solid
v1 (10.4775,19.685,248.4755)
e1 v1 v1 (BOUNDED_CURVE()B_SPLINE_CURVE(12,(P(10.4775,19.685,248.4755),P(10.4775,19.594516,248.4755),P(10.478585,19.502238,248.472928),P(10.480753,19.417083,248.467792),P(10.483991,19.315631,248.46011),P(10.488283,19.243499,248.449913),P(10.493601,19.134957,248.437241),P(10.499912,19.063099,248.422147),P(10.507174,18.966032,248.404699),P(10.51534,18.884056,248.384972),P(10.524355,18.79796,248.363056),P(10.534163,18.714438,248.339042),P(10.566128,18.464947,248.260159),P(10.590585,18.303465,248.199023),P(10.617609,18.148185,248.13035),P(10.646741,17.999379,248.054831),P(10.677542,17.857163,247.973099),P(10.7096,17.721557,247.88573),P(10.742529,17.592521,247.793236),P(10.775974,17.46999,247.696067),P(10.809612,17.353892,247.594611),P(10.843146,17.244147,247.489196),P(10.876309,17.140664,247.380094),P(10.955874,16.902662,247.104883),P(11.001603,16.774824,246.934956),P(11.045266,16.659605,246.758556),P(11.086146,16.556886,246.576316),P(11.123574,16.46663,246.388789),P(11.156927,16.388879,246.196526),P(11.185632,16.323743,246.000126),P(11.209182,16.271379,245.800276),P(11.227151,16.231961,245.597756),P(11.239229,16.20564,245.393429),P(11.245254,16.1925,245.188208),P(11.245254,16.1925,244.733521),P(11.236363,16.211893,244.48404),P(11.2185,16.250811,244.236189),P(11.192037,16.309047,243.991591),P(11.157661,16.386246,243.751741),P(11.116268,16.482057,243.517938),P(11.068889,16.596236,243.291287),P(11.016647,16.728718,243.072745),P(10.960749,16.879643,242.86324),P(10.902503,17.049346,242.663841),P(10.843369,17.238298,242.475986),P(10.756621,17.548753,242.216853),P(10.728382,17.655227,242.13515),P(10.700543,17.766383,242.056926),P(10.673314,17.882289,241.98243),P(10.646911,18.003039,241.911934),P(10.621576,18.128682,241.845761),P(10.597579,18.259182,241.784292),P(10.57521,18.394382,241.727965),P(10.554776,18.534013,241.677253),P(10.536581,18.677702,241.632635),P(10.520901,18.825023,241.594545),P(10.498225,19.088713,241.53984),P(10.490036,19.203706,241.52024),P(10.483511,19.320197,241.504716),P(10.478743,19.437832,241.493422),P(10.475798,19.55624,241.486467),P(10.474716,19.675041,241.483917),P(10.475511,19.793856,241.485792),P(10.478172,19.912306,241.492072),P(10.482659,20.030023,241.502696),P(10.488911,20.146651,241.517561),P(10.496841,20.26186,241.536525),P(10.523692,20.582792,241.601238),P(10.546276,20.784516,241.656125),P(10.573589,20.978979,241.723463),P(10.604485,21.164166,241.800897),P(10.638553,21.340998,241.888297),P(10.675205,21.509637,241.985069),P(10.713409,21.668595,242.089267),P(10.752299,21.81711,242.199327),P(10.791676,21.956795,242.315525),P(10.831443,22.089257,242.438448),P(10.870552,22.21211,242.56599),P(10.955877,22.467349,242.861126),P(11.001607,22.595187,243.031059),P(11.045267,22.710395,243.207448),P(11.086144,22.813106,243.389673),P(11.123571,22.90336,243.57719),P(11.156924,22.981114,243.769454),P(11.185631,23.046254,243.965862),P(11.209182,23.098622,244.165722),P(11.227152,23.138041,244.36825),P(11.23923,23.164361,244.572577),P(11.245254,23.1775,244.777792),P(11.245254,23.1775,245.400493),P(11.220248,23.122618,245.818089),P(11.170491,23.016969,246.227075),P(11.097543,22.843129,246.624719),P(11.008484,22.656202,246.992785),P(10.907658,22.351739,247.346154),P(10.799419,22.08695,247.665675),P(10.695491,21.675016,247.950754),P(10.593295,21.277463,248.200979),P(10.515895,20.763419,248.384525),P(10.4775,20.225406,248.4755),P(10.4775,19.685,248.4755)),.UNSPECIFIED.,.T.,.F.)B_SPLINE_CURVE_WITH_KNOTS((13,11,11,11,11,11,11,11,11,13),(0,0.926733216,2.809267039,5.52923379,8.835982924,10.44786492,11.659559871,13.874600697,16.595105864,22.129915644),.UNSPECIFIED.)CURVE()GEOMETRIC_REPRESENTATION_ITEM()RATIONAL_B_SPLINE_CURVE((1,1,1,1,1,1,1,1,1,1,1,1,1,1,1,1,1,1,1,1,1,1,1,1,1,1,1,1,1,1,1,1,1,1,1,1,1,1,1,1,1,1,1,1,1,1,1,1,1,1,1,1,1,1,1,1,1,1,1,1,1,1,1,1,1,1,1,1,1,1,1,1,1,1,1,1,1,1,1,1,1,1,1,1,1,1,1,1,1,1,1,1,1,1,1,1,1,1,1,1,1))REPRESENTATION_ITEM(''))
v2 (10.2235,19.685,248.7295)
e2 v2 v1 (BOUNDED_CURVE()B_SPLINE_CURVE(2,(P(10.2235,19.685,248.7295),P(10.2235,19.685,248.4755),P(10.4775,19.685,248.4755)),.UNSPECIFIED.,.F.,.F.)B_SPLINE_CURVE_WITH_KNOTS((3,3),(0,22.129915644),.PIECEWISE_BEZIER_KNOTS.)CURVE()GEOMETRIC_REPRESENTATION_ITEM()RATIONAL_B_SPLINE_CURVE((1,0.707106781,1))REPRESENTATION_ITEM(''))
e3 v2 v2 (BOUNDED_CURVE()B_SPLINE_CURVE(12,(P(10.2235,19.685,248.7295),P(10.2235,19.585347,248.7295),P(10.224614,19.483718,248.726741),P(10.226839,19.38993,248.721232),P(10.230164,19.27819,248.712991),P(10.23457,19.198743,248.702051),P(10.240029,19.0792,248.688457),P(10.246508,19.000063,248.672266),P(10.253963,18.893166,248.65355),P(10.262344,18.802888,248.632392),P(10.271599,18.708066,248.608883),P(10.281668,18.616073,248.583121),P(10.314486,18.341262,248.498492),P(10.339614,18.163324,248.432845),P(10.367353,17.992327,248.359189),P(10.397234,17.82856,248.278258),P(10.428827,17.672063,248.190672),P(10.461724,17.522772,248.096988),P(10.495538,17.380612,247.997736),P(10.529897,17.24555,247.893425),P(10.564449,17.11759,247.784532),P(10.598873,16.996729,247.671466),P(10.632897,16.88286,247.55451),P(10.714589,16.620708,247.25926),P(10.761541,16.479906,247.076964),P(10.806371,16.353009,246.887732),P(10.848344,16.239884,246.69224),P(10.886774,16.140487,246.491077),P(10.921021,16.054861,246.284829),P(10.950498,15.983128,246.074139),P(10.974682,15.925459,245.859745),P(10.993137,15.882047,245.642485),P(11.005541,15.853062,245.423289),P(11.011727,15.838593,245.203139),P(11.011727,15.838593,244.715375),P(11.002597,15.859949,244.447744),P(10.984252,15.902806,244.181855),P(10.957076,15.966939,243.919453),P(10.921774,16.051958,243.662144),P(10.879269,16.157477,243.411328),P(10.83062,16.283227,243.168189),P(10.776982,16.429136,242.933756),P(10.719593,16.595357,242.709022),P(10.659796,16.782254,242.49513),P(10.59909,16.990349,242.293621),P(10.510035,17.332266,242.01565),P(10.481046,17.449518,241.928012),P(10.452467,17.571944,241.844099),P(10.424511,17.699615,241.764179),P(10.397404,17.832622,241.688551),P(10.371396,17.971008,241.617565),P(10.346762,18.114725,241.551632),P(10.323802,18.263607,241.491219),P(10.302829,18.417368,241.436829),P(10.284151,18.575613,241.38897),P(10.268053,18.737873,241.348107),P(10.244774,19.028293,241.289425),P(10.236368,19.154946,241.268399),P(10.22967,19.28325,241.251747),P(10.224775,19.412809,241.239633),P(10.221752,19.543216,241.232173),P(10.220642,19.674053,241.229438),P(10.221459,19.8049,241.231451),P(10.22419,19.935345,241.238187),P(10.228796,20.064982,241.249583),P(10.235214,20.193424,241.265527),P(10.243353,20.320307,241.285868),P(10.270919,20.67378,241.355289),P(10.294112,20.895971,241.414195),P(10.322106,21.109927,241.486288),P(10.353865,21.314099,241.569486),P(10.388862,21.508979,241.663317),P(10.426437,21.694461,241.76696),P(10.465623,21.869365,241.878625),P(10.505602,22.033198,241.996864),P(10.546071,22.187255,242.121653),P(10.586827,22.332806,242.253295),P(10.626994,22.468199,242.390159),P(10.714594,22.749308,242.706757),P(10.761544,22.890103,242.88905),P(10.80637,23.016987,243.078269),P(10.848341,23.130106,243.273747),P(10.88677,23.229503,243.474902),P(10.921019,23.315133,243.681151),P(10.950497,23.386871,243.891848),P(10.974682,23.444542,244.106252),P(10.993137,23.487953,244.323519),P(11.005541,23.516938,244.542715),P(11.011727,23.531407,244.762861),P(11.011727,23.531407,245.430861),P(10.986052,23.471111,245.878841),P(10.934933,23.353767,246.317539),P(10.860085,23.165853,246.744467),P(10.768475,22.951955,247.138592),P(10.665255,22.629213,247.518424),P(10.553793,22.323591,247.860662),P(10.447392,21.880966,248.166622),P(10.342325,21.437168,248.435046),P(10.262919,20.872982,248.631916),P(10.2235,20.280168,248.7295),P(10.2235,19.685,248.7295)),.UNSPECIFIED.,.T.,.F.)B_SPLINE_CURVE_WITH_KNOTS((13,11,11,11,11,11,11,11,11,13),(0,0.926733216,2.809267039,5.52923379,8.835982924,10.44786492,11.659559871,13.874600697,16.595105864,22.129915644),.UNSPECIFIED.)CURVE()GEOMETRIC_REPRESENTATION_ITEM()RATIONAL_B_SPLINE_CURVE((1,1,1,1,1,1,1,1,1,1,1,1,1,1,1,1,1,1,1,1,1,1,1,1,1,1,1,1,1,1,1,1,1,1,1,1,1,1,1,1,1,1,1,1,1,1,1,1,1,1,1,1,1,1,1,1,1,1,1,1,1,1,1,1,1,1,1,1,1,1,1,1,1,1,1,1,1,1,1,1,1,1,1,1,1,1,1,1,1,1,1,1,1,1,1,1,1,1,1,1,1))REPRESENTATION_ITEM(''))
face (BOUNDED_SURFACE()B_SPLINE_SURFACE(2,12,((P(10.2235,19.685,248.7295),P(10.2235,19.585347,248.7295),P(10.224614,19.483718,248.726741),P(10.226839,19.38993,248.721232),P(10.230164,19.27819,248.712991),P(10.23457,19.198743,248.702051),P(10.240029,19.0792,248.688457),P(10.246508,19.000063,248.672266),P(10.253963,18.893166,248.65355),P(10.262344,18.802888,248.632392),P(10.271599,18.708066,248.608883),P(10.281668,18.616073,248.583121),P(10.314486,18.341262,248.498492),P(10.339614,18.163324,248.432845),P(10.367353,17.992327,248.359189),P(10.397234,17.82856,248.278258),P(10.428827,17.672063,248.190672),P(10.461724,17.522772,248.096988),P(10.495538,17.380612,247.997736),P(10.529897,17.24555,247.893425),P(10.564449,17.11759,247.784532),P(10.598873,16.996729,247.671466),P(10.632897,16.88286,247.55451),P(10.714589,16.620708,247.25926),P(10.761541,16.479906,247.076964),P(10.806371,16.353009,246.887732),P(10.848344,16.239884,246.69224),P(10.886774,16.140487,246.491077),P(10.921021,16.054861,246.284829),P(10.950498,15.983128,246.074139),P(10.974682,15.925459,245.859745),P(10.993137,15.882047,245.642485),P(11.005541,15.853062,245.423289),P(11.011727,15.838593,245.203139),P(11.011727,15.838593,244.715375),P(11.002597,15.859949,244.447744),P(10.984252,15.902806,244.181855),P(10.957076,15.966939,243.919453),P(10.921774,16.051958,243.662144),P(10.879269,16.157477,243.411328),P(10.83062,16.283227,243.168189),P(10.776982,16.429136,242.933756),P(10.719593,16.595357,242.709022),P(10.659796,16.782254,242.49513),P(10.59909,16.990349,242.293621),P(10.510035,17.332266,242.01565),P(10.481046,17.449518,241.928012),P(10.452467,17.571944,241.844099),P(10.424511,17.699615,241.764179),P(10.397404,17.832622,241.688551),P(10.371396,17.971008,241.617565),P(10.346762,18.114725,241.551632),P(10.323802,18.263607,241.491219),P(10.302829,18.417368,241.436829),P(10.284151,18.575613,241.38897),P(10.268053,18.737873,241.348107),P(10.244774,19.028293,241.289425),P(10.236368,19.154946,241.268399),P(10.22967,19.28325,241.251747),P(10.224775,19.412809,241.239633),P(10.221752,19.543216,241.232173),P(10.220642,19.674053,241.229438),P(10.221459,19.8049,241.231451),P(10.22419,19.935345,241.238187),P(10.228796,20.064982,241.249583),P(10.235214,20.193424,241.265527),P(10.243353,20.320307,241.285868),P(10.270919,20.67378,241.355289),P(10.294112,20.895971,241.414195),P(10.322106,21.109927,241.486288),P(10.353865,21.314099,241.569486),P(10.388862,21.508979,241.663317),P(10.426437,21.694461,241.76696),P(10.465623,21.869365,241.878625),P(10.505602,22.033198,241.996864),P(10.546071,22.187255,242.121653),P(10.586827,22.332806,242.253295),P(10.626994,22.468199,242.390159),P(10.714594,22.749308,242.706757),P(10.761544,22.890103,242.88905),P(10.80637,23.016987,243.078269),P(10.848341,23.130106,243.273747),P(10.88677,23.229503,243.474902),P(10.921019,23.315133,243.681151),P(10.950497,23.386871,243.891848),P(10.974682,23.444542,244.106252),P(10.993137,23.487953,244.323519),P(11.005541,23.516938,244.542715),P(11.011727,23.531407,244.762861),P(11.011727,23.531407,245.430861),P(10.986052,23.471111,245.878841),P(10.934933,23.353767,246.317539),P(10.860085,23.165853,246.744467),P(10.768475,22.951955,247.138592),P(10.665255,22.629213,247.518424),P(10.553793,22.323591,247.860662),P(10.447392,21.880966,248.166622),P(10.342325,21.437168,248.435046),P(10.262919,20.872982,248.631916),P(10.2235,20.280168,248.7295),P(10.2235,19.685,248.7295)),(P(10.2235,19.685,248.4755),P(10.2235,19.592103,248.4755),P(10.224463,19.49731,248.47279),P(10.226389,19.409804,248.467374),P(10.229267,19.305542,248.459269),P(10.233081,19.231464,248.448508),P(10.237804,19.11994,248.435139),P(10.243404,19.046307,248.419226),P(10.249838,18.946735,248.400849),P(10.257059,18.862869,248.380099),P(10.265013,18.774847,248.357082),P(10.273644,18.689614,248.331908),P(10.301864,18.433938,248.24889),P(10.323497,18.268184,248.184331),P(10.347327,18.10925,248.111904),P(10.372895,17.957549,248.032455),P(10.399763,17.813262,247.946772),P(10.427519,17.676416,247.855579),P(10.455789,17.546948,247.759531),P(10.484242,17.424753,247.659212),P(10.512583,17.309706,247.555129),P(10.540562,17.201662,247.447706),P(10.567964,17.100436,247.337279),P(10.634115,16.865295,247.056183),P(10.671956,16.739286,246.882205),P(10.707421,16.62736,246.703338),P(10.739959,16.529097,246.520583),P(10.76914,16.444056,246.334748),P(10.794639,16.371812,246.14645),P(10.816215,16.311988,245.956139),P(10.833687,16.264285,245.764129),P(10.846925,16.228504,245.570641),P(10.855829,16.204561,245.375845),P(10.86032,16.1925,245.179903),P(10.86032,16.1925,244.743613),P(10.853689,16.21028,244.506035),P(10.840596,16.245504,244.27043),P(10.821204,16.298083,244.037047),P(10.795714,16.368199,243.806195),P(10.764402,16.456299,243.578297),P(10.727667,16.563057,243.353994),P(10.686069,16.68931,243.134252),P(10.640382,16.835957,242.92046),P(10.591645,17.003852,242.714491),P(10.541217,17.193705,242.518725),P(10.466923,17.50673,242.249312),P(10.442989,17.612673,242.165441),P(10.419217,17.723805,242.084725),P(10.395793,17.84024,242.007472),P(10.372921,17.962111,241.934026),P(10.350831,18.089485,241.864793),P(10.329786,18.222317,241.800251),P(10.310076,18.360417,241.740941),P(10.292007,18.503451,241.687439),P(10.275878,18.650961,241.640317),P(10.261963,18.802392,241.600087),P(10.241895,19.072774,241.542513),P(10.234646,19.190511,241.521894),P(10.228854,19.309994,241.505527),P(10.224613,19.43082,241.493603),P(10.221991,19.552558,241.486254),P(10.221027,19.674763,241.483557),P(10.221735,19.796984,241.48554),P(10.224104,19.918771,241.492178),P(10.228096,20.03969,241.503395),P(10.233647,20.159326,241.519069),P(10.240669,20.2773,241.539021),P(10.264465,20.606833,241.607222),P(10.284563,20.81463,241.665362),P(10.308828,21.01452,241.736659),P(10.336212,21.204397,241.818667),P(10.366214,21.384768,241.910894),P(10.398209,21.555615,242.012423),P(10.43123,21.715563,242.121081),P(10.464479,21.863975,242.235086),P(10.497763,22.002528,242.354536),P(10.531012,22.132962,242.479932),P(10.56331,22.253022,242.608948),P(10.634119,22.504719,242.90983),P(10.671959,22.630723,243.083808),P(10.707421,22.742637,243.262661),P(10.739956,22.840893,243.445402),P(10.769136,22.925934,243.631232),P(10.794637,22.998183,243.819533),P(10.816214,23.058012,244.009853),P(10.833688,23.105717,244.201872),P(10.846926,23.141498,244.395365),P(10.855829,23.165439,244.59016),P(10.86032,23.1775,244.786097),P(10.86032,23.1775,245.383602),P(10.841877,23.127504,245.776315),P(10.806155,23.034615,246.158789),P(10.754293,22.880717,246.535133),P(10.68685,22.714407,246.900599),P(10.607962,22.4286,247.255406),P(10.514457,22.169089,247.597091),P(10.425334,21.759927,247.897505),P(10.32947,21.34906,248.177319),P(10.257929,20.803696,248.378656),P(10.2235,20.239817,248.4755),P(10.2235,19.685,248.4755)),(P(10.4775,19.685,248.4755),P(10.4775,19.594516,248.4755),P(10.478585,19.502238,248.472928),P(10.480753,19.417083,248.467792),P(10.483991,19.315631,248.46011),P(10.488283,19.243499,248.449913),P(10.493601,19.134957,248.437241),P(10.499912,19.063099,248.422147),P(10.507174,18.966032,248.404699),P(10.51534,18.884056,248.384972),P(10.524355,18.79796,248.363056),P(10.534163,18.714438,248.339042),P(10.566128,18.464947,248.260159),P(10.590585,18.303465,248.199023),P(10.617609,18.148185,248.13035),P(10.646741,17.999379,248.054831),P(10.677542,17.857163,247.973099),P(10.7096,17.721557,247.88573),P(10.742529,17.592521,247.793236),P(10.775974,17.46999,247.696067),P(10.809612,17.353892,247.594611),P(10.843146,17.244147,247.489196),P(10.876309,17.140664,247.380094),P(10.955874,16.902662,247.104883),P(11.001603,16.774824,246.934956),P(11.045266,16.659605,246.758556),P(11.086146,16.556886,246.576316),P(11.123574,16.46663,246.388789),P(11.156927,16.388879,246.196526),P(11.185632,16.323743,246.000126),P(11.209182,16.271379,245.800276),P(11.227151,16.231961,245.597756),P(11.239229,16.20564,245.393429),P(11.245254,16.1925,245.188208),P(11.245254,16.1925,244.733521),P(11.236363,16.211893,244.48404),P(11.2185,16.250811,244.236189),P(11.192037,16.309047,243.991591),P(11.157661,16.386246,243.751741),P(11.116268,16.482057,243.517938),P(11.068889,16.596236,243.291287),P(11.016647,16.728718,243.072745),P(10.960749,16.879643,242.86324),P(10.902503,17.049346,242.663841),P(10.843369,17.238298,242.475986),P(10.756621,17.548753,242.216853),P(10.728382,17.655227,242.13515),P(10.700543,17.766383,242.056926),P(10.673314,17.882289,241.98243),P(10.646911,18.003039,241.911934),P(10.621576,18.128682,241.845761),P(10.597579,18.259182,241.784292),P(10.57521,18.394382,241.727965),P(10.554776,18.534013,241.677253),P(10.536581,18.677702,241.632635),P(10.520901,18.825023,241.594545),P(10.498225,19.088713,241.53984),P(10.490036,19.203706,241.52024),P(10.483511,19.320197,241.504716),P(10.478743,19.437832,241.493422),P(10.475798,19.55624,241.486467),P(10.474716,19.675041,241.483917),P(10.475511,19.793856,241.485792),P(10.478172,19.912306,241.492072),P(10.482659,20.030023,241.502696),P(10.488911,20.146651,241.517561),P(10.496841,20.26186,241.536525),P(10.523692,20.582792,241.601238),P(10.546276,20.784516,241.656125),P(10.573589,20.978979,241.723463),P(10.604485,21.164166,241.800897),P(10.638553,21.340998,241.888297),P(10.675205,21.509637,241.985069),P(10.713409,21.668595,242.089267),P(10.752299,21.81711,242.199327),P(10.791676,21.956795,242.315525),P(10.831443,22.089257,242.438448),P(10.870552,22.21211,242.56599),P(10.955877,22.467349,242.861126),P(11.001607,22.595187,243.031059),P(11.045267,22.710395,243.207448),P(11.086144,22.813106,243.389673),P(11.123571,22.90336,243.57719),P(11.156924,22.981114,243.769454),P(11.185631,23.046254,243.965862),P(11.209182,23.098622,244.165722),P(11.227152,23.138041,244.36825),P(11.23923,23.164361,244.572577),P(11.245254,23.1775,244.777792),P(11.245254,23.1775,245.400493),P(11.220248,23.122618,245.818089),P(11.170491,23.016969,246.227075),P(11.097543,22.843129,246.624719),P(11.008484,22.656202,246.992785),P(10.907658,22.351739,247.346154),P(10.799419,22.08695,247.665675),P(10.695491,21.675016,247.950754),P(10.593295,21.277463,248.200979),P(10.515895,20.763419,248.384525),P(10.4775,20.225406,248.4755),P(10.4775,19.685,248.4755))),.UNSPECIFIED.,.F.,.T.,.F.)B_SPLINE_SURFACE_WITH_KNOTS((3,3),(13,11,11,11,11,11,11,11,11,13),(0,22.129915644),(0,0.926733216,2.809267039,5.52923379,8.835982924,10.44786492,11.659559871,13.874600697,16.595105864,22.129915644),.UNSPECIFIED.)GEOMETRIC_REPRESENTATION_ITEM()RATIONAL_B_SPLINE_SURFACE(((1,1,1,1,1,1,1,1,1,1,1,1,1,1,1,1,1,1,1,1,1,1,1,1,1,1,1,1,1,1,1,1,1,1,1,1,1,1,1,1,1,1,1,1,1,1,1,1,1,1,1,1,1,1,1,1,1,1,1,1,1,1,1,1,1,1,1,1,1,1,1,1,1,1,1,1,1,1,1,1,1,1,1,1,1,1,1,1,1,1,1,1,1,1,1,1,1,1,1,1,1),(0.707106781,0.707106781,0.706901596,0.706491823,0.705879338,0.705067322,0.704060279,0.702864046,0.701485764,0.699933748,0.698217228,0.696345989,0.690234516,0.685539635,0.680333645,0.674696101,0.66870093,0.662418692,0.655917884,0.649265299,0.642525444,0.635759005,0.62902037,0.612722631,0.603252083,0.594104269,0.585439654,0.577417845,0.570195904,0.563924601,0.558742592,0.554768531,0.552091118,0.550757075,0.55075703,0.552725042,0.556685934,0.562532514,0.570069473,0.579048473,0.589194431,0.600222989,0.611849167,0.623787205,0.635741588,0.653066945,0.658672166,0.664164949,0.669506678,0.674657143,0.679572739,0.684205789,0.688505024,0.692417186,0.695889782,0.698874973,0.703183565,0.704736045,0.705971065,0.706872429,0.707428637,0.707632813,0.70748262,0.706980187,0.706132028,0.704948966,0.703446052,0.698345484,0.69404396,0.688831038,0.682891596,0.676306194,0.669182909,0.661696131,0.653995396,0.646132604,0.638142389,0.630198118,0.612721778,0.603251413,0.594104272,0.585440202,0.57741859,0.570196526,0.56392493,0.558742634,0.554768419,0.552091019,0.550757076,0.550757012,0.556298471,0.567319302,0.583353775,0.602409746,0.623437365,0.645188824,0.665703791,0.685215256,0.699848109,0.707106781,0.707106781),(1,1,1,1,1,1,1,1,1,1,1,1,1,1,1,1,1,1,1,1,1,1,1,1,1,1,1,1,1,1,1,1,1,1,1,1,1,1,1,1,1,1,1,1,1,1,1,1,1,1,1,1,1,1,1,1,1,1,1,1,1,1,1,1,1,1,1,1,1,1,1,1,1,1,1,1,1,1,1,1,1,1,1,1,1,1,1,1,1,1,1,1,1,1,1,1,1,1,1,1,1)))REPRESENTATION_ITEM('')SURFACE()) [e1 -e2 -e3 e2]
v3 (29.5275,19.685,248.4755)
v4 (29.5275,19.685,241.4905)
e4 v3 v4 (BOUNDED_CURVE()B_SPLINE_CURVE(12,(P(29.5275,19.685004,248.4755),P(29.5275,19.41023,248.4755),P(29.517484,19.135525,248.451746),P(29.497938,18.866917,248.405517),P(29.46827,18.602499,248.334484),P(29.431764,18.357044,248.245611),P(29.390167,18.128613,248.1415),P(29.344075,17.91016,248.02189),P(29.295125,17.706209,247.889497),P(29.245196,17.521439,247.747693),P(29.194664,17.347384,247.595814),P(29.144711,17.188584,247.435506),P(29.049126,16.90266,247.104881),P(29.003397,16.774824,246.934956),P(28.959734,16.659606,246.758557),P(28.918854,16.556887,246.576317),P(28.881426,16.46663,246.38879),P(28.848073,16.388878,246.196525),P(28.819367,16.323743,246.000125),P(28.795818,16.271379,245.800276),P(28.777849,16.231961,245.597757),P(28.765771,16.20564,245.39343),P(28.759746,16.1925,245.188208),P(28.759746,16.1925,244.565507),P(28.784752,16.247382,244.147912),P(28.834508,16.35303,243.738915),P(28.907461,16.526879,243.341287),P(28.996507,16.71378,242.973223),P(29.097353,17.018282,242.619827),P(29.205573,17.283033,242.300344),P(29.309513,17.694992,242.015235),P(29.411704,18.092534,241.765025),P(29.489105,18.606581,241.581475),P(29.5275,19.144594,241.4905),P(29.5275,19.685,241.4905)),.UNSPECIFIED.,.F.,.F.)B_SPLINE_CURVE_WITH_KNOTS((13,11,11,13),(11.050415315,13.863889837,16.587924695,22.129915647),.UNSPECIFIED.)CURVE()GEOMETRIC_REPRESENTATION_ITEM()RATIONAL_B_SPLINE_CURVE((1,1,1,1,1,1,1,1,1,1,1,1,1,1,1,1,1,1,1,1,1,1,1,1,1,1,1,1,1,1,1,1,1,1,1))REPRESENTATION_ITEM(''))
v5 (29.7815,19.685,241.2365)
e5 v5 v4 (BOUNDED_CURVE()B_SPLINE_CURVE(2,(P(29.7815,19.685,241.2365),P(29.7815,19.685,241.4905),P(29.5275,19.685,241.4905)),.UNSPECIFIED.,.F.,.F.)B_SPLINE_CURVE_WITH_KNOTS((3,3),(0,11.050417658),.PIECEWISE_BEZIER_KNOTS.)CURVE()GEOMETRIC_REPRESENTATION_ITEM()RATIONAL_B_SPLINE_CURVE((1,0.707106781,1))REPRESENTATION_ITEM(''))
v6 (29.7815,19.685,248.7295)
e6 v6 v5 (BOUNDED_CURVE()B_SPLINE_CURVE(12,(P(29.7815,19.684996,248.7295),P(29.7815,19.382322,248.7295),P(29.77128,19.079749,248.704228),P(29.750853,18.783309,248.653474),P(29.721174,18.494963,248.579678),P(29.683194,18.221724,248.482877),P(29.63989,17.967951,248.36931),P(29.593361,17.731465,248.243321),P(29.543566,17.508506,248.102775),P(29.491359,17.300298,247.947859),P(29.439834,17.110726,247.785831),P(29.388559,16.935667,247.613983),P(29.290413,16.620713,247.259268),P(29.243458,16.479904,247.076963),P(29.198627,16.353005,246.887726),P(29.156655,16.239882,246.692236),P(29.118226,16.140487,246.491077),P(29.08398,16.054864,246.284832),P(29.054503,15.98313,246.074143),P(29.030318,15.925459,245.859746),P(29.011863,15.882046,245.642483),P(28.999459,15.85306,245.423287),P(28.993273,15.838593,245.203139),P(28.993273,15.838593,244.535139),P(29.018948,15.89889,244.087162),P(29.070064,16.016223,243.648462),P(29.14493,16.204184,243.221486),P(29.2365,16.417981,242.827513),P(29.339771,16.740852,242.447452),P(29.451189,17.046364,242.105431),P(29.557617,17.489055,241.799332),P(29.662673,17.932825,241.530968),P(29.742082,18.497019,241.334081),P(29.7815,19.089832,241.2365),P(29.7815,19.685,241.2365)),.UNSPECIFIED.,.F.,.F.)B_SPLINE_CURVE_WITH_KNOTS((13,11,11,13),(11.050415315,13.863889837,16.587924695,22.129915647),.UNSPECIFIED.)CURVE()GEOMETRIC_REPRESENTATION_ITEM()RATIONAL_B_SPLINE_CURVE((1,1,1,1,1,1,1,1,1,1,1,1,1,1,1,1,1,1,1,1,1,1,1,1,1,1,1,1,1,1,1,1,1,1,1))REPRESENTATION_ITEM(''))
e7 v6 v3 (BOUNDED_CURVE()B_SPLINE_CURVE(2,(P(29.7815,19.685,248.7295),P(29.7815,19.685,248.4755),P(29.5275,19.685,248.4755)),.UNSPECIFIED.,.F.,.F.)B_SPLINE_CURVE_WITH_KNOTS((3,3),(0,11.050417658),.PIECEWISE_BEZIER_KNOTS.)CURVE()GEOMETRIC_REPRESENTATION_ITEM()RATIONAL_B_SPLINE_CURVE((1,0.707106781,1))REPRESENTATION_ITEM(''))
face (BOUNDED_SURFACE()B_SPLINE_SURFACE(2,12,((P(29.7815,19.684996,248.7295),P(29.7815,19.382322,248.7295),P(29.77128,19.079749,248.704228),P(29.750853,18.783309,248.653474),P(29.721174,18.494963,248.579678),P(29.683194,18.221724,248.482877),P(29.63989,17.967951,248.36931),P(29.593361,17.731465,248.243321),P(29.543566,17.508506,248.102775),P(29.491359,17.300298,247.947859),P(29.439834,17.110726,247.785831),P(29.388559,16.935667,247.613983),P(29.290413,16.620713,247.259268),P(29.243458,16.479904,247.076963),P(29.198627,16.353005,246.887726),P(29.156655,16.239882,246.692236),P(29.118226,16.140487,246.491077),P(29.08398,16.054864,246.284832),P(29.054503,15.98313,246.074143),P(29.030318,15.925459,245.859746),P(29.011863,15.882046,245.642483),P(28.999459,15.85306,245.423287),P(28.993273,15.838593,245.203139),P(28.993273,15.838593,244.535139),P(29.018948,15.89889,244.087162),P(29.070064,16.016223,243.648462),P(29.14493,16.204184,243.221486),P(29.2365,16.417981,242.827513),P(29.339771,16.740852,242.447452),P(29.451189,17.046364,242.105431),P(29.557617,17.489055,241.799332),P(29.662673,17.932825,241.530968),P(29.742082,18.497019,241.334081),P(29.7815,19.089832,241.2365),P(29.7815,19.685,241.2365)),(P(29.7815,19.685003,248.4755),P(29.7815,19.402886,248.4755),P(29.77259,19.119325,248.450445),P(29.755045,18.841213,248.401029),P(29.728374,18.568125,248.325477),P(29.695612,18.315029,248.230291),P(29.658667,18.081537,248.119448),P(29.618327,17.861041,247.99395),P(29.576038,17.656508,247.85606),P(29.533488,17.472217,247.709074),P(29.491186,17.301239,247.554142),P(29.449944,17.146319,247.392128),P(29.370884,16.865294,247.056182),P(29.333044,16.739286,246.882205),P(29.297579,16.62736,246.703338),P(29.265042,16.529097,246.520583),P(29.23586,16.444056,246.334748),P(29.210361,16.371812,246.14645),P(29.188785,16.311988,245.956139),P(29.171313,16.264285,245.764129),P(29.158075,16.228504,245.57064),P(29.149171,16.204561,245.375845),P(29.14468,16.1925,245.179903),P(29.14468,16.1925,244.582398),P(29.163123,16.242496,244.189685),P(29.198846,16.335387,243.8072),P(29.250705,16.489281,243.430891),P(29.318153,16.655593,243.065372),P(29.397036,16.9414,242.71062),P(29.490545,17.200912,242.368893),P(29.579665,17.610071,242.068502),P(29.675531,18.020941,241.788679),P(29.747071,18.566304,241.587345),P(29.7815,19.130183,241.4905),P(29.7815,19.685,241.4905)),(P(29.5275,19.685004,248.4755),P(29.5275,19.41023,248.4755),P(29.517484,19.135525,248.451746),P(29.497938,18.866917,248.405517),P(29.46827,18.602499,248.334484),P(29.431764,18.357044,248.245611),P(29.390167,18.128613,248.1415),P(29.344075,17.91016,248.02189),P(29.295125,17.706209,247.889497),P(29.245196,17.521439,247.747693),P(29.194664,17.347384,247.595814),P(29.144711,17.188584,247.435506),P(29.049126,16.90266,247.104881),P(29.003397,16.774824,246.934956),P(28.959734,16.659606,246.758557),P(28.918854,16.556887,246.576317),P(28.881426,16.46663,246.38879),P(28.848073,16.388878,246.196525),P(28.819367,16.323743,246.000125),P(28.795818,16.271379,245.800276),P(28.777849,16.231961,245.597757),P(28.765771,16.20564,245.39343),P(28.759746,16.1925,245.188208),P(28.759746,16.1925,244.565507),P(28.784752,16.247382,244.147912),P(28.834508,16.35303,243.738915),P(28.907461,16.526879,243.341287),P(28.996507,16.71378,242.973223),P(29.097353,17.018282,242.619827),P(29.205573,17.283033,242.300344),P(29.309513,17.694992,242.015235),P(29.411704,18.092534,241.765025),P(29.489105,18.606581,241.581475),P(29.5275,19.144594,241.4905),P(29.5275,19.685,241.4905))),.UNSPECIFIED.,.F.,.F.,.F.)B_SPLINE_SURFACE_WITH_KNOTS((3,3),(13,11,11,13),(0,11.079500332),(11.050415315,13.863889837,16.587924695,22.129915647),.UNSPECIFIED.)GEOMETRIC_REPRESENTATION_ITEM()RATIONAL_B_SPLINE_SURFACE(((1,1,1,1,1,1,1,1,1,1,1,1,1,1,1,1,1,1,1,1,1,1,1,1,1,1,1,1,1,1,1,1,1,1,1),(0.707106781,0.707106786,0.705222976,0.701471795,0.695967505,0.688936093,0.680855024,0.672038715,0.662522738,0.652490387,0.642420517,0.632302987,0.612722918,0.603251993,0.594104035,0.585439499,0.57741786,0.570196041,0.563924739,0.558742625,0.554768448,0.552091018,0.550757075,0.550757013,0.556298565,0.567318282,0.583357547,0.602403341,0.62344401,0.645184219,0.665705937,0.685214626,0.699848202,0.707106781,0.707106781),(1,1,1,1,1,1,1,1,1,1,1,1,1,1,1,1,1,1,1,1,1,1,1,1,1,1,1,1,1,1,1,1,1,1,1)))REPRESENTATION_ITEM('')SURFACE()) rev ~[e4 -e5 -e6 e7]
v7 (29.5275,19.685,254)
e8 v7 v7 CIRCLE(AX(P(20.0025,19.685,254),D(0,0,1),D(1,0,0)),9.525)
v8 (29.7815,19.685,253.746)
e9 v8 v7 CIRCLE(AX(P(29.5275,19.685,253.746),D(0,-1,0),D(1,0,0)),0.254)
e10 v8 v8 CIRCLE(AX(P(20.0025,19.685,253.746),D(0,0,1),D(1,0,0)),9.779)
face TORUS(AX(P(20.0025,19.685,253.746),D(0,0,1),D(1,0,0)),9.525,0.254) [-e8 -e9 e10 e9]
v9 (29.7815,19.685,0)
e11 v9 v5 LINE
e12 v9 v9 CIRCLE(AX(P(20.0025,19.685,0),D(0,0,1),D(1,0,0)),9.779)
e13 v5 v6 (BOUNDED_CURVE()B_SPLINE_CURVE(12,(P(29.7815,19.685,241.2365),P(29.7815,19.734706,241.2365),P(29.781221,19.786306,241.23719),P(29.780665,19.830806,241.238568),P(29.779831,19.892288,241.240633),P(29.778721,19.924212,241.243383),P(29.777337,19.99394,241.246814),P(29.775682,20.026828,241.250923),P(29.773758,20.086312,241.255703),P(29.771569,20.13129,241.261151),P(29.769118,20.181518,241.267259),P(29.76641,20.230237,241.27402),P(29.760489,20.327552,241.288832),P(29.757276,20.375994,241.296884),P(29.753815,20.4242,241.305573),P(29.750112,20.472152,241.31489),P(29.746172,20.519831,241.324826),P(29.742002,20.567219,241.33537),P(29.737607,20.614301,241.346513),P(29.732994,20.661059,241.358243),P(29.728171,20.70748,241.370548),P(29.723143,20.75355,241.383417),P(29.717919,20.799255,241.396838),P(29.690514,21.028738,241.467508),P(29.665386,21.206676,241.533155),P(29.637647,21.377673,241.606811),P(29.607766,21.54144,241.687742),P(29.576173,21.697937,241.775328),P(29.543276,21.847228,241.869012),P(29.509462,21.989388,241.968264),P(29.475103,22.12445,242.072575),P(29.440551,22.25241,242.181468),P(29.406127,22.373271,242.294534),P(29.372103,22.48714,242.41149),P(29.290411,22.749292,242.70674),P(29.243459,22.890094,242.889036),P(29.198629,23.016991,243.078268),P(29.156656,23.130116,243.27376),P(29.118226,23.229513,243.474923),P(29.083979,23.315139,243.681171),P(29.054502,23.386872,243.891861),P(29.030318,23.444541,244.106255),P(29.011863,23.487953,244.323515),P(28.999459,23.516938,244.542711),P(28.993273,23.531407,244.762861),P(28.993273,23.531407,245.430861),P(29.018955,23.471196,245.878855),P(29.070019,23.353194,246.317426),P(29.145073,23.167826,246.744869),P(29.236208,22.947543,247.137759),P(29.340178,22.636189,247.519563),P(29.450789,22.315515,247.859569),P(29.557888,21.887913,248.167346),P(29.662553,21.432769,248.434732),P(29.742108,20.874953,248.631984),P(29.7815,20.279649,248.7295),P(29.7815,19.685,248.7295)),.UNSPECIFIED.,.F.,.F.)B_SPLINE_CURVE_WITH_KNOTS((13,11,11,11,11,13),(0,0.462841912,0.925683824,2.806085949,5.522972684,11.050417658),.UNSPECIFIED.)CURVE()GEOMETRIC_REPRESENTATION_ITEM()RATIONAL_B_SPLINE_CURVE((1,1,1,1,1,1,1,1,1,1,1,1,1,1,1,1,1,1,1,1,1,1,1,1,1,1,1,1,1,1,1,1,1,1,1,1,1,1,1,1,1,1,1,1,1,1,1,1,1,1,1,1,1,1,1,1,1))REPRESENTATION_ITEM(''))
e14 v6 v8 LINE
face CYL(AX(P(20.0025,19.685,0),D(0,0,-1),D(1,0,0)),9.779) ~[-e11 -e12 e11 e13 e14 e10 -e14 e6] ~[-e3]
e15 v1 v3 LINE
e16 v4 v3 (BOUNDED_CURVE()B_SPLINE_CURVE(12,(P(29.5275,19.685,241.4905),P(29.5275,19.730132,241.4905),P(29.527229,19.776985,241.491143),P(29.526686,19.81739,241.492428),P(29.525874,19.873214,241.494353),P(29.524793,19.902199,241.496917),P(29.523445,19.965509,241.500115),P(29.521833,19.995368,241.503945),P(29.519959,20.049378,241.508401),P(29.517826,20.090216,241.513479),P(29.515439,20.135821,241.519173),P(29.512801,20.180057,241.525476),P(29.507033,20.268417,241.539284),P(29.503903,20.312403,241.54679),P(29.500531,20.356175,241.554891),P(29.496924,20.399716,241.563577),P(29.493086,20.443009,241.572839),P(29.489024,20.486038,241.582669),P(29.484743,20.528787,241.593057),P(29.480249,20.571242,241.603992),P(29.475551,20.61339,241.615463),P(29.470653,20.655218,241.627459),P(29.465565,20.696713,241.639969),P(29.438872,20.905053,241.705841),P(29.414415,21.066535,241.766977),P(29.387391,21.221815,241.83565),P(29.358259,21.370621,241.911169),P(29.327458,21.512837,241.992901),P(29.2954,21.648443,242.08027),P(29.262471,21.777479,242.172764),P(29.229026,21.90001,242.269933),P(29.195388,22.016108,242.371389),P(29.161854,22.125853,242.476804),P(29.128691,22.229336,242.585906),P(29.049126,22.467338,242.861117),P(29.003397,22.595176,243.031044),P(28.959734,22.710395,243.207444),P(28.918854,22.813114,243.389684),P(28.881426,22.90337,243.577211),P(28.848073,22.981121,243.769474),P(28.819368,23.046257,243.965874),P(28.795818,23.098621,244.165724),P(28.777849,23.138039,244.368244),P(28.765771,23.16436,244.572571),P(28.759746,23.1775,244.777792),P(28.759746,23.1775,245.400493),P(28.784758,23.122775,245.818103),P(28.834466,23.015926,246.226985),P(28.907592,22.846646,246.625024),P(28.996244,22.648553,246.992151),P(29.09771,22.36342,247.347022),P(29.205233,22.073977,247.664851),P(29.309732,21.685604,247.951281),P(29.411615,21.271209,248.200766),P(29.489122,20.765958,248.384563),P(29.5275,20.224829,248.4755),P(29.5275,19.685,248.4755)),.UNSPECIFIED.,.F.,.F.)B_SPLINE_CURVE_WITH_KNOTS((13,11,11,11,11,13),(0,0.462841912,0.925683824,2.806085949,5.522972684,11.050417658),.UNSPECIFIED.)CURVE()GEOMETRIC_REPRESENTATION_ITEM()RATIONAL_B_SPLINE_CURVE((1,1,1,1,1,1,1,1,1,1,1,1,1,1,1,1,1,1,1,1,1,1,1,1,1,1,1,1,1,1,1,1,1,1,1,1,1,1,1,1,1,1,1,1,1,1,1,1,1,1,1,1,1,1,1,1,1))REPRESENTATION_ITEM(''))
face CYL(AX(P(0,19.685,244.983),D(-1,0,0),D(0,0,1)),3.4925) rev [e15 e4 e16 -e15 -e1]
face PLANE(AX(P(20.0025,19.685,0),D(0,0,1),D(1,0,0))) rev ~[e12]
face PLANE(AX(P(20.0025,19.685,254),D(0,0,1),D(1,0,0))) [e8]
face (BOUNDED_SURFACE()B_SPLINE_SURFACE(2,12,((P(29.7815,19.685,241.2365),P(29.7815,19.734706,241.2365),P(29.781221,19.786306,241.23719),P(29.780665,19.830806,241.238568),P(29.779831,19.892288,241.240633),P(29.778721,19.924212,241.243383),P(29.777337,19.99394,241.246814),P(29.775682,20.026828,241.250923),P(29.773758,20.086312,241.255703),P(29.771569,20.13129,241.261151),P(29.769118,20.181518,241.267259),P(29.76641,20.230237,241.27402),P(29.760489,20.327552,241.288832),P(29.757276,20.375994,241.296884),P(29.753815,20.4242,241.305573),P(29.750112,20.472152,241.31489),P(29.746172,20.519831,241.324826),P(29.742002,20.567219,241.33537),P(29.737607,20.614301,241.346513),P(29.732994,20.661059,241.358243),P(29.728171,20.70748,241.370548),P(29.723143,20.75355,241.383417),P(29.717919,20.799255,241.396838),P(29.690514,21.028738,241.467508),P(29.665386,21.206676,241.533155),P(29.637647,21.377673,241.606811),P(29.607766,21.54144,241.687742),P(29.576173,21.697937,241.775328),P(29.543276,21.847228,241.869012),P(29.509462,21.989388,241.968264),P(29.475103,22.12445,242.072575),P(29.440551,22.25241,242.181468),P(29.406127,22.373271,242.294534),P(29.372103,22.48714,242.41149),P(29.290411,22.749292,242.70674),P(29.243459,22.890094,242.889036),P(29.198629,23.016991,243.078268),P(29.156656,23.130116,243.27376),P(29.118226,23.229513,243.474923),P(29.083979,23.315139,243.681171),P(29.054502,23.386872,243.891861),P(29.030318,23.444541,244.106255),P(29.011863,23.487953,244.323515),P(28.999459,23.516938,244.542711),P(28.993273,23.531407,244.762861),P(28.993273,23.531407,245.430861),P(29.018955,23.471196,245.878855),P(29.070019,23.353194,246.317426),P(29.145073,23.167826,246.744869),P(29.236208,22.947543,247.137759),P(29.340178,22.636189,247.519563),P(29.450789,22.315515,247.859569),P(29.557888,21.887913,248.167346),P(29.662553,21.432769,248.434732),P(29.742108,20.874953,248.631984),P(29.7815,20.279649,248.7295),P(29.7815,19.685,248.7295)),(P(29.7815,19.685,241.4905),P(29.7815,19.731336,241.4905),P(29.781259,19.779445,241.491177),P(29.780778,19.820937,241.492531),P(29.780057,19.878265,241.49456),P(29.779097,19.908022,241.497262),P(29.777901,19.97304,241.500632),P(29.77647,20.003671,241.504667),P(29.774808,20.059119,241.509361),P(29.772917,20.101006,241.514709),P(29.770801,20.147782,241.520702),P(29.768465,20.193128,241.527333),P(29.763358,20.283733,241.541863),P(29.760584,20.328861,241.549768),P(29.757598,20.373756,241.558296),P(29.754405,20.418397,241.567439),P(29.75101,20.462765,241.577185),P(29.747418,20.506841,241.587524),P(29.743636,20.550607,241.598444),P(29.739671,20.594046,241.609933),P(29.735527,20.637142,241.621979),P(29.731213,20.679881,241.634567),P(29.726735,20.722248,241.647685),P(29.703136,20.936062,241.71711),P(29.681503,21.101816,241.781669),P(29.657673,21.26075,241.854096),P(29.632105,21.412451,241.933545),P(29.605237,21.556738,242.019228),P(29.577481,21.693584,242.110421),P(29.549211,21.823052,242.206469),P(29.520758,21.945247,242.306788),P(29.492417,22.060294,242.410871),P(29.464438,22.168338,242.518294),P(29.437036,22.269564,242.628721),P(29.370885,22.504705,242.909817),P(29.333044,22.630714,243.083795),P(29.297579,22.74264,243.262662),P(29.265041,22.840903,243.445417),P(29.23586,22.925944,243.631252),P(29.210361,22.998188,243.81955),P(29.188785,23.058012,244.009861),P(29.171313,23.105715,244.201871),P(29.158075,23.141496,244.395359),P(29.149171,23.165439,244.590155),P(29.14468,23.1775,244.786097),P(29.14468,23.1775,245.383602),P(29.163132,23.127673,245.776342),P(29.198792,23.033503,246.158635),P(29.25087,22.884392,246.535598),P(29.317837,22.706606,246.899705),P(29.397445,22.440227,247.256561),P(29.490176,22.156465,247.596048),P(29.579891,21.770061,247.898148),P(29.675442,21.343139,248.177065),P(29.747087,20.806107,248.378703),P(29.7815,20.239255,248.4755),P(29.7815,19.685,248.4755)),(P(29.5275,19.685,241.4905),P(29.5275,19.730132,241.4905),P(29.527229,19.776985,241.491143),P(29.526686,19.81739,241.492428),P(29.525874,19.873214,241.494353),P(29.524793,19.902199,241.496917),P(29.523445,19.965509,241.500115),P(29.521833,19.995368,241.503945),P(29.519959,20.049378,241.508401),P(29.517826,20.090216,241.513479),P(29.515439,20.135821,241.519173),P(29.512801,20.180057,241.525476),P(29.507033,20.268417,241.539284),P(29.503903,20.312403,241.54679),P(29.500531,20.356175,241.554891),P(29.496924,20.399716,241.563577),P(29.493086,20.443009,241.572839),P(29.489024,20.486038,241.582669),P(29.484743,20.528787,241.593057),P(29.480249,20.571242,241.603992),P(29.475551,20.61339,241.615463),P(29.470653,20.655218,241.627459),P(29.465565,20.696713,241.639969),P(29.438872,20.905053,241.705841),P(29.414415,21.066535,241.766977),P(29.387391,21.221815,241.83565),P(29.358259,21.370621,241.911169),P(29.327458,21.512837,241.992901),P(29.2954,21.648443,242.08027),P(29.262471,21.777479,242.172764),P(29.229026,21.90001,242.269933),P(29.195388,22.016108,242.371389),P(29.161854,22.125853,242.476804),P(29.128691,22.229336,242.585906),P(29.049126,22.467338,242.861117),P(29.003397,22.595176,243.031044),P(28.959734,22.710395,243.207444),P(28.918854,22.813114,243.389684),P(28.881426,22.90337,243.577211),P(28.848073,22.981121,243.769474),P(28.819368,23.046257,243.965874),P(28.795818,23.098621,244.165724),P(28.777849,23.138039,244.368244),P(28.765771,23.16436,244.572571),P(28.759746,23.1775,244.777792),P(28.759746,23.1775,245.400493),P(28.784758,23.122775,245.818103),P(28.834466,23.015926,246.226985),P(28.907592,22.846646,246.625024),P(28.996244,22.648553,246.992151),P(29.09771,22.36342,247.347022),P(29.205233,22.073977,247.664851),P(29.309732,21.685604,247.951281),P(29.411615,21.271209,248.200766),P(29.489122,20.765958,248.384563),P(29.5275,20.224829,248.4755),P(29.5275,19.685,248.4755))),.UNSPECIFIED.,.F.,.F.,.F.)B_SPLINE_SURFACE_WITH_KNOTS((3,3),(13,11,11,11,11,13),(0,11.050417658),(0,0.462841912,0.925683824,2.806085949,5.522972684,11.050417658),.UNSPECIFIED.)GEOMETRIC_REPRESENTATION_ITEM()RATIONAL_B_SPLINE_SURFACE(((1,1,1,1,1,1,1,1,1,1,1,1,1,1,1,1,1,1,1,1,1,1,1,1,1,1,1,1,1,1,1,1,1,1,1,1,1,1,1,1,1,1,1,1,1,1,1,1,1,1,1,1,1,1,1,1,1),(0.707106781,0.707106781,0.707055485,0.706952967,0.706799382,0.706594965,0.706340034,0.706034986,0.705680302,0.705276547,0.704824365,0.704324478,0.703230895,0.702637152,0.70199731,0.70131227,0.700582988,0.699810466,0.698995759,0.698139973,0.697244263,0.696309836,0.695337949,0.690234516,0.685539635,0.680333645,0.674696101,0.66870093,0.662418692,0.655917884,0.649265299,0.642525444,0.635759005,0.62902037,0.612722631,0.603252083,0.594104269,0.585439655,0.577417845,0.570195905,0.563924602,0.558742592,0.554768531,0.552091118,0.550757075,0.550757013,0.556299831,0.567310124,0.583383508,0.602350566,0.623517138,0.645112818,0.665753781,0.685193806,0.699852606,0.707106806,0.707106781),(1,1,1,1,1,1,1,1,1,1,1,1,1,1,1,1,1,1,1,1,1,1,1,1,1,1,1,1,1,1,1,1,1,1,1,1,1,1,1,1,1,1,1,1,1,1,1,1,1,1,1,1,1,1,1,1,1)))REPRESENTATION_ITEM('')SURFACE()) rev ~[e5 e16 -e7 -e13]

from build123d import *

# Parameters (mm, degrees)
SKETCH1_R           = 9.779
BOSS_EXTRUDE1_DEPTH = 254
SKETCH2_R           = 3.4925
CUT_EXTRUDE1_DEPTH  = 258.43167062
FILLET1_R           = 0.254
FILLET2_R           = 0.254


with BuildPart() as part:
    # Sketch1 → Boss-Extrude1 (new body)
    with BuildSketch(Plane.XY):
        with Locations((20.0025, 19.685)):
            Circle(SKETCH1_R)
    extrude(amount=BOSS_EXTRUDE1_DEPTH)

    # Sketch2 → Cut-Extrude1 (cut, through all)
    with BuildSketch(Plane(origin=(0, 0, 0), x_dir=(0, 0, -1), z_dir=(1, 0, 0))):
        with Locations(Location((-244.983, 19.685, 0), (0, 0, 180))):
            Circle(SKETCH2_R)
    extrude(amount=CUT_EXTRUDE1_DEPTH, mode=Mode.SUBTRACT)

    # Fillet1
    fillet1_edges = [part.edges().sort_by_distance(p)[0] for p in [
        (29.136572736, 23.1775, 244.983),
        (10.2235, 19.685, 241.490499999),
    ]]
    fillet(fillet1_edges, radius=FILLET1_R)

    # Fillet2
    fillet2_edges = [part.edges().sort_by_distance(p)[0] for p in [
        (10.2235, 19.685, 254),
    ]]
    fillet(fillet2_edges, radius=FILLET2_R)


solid = part.part
